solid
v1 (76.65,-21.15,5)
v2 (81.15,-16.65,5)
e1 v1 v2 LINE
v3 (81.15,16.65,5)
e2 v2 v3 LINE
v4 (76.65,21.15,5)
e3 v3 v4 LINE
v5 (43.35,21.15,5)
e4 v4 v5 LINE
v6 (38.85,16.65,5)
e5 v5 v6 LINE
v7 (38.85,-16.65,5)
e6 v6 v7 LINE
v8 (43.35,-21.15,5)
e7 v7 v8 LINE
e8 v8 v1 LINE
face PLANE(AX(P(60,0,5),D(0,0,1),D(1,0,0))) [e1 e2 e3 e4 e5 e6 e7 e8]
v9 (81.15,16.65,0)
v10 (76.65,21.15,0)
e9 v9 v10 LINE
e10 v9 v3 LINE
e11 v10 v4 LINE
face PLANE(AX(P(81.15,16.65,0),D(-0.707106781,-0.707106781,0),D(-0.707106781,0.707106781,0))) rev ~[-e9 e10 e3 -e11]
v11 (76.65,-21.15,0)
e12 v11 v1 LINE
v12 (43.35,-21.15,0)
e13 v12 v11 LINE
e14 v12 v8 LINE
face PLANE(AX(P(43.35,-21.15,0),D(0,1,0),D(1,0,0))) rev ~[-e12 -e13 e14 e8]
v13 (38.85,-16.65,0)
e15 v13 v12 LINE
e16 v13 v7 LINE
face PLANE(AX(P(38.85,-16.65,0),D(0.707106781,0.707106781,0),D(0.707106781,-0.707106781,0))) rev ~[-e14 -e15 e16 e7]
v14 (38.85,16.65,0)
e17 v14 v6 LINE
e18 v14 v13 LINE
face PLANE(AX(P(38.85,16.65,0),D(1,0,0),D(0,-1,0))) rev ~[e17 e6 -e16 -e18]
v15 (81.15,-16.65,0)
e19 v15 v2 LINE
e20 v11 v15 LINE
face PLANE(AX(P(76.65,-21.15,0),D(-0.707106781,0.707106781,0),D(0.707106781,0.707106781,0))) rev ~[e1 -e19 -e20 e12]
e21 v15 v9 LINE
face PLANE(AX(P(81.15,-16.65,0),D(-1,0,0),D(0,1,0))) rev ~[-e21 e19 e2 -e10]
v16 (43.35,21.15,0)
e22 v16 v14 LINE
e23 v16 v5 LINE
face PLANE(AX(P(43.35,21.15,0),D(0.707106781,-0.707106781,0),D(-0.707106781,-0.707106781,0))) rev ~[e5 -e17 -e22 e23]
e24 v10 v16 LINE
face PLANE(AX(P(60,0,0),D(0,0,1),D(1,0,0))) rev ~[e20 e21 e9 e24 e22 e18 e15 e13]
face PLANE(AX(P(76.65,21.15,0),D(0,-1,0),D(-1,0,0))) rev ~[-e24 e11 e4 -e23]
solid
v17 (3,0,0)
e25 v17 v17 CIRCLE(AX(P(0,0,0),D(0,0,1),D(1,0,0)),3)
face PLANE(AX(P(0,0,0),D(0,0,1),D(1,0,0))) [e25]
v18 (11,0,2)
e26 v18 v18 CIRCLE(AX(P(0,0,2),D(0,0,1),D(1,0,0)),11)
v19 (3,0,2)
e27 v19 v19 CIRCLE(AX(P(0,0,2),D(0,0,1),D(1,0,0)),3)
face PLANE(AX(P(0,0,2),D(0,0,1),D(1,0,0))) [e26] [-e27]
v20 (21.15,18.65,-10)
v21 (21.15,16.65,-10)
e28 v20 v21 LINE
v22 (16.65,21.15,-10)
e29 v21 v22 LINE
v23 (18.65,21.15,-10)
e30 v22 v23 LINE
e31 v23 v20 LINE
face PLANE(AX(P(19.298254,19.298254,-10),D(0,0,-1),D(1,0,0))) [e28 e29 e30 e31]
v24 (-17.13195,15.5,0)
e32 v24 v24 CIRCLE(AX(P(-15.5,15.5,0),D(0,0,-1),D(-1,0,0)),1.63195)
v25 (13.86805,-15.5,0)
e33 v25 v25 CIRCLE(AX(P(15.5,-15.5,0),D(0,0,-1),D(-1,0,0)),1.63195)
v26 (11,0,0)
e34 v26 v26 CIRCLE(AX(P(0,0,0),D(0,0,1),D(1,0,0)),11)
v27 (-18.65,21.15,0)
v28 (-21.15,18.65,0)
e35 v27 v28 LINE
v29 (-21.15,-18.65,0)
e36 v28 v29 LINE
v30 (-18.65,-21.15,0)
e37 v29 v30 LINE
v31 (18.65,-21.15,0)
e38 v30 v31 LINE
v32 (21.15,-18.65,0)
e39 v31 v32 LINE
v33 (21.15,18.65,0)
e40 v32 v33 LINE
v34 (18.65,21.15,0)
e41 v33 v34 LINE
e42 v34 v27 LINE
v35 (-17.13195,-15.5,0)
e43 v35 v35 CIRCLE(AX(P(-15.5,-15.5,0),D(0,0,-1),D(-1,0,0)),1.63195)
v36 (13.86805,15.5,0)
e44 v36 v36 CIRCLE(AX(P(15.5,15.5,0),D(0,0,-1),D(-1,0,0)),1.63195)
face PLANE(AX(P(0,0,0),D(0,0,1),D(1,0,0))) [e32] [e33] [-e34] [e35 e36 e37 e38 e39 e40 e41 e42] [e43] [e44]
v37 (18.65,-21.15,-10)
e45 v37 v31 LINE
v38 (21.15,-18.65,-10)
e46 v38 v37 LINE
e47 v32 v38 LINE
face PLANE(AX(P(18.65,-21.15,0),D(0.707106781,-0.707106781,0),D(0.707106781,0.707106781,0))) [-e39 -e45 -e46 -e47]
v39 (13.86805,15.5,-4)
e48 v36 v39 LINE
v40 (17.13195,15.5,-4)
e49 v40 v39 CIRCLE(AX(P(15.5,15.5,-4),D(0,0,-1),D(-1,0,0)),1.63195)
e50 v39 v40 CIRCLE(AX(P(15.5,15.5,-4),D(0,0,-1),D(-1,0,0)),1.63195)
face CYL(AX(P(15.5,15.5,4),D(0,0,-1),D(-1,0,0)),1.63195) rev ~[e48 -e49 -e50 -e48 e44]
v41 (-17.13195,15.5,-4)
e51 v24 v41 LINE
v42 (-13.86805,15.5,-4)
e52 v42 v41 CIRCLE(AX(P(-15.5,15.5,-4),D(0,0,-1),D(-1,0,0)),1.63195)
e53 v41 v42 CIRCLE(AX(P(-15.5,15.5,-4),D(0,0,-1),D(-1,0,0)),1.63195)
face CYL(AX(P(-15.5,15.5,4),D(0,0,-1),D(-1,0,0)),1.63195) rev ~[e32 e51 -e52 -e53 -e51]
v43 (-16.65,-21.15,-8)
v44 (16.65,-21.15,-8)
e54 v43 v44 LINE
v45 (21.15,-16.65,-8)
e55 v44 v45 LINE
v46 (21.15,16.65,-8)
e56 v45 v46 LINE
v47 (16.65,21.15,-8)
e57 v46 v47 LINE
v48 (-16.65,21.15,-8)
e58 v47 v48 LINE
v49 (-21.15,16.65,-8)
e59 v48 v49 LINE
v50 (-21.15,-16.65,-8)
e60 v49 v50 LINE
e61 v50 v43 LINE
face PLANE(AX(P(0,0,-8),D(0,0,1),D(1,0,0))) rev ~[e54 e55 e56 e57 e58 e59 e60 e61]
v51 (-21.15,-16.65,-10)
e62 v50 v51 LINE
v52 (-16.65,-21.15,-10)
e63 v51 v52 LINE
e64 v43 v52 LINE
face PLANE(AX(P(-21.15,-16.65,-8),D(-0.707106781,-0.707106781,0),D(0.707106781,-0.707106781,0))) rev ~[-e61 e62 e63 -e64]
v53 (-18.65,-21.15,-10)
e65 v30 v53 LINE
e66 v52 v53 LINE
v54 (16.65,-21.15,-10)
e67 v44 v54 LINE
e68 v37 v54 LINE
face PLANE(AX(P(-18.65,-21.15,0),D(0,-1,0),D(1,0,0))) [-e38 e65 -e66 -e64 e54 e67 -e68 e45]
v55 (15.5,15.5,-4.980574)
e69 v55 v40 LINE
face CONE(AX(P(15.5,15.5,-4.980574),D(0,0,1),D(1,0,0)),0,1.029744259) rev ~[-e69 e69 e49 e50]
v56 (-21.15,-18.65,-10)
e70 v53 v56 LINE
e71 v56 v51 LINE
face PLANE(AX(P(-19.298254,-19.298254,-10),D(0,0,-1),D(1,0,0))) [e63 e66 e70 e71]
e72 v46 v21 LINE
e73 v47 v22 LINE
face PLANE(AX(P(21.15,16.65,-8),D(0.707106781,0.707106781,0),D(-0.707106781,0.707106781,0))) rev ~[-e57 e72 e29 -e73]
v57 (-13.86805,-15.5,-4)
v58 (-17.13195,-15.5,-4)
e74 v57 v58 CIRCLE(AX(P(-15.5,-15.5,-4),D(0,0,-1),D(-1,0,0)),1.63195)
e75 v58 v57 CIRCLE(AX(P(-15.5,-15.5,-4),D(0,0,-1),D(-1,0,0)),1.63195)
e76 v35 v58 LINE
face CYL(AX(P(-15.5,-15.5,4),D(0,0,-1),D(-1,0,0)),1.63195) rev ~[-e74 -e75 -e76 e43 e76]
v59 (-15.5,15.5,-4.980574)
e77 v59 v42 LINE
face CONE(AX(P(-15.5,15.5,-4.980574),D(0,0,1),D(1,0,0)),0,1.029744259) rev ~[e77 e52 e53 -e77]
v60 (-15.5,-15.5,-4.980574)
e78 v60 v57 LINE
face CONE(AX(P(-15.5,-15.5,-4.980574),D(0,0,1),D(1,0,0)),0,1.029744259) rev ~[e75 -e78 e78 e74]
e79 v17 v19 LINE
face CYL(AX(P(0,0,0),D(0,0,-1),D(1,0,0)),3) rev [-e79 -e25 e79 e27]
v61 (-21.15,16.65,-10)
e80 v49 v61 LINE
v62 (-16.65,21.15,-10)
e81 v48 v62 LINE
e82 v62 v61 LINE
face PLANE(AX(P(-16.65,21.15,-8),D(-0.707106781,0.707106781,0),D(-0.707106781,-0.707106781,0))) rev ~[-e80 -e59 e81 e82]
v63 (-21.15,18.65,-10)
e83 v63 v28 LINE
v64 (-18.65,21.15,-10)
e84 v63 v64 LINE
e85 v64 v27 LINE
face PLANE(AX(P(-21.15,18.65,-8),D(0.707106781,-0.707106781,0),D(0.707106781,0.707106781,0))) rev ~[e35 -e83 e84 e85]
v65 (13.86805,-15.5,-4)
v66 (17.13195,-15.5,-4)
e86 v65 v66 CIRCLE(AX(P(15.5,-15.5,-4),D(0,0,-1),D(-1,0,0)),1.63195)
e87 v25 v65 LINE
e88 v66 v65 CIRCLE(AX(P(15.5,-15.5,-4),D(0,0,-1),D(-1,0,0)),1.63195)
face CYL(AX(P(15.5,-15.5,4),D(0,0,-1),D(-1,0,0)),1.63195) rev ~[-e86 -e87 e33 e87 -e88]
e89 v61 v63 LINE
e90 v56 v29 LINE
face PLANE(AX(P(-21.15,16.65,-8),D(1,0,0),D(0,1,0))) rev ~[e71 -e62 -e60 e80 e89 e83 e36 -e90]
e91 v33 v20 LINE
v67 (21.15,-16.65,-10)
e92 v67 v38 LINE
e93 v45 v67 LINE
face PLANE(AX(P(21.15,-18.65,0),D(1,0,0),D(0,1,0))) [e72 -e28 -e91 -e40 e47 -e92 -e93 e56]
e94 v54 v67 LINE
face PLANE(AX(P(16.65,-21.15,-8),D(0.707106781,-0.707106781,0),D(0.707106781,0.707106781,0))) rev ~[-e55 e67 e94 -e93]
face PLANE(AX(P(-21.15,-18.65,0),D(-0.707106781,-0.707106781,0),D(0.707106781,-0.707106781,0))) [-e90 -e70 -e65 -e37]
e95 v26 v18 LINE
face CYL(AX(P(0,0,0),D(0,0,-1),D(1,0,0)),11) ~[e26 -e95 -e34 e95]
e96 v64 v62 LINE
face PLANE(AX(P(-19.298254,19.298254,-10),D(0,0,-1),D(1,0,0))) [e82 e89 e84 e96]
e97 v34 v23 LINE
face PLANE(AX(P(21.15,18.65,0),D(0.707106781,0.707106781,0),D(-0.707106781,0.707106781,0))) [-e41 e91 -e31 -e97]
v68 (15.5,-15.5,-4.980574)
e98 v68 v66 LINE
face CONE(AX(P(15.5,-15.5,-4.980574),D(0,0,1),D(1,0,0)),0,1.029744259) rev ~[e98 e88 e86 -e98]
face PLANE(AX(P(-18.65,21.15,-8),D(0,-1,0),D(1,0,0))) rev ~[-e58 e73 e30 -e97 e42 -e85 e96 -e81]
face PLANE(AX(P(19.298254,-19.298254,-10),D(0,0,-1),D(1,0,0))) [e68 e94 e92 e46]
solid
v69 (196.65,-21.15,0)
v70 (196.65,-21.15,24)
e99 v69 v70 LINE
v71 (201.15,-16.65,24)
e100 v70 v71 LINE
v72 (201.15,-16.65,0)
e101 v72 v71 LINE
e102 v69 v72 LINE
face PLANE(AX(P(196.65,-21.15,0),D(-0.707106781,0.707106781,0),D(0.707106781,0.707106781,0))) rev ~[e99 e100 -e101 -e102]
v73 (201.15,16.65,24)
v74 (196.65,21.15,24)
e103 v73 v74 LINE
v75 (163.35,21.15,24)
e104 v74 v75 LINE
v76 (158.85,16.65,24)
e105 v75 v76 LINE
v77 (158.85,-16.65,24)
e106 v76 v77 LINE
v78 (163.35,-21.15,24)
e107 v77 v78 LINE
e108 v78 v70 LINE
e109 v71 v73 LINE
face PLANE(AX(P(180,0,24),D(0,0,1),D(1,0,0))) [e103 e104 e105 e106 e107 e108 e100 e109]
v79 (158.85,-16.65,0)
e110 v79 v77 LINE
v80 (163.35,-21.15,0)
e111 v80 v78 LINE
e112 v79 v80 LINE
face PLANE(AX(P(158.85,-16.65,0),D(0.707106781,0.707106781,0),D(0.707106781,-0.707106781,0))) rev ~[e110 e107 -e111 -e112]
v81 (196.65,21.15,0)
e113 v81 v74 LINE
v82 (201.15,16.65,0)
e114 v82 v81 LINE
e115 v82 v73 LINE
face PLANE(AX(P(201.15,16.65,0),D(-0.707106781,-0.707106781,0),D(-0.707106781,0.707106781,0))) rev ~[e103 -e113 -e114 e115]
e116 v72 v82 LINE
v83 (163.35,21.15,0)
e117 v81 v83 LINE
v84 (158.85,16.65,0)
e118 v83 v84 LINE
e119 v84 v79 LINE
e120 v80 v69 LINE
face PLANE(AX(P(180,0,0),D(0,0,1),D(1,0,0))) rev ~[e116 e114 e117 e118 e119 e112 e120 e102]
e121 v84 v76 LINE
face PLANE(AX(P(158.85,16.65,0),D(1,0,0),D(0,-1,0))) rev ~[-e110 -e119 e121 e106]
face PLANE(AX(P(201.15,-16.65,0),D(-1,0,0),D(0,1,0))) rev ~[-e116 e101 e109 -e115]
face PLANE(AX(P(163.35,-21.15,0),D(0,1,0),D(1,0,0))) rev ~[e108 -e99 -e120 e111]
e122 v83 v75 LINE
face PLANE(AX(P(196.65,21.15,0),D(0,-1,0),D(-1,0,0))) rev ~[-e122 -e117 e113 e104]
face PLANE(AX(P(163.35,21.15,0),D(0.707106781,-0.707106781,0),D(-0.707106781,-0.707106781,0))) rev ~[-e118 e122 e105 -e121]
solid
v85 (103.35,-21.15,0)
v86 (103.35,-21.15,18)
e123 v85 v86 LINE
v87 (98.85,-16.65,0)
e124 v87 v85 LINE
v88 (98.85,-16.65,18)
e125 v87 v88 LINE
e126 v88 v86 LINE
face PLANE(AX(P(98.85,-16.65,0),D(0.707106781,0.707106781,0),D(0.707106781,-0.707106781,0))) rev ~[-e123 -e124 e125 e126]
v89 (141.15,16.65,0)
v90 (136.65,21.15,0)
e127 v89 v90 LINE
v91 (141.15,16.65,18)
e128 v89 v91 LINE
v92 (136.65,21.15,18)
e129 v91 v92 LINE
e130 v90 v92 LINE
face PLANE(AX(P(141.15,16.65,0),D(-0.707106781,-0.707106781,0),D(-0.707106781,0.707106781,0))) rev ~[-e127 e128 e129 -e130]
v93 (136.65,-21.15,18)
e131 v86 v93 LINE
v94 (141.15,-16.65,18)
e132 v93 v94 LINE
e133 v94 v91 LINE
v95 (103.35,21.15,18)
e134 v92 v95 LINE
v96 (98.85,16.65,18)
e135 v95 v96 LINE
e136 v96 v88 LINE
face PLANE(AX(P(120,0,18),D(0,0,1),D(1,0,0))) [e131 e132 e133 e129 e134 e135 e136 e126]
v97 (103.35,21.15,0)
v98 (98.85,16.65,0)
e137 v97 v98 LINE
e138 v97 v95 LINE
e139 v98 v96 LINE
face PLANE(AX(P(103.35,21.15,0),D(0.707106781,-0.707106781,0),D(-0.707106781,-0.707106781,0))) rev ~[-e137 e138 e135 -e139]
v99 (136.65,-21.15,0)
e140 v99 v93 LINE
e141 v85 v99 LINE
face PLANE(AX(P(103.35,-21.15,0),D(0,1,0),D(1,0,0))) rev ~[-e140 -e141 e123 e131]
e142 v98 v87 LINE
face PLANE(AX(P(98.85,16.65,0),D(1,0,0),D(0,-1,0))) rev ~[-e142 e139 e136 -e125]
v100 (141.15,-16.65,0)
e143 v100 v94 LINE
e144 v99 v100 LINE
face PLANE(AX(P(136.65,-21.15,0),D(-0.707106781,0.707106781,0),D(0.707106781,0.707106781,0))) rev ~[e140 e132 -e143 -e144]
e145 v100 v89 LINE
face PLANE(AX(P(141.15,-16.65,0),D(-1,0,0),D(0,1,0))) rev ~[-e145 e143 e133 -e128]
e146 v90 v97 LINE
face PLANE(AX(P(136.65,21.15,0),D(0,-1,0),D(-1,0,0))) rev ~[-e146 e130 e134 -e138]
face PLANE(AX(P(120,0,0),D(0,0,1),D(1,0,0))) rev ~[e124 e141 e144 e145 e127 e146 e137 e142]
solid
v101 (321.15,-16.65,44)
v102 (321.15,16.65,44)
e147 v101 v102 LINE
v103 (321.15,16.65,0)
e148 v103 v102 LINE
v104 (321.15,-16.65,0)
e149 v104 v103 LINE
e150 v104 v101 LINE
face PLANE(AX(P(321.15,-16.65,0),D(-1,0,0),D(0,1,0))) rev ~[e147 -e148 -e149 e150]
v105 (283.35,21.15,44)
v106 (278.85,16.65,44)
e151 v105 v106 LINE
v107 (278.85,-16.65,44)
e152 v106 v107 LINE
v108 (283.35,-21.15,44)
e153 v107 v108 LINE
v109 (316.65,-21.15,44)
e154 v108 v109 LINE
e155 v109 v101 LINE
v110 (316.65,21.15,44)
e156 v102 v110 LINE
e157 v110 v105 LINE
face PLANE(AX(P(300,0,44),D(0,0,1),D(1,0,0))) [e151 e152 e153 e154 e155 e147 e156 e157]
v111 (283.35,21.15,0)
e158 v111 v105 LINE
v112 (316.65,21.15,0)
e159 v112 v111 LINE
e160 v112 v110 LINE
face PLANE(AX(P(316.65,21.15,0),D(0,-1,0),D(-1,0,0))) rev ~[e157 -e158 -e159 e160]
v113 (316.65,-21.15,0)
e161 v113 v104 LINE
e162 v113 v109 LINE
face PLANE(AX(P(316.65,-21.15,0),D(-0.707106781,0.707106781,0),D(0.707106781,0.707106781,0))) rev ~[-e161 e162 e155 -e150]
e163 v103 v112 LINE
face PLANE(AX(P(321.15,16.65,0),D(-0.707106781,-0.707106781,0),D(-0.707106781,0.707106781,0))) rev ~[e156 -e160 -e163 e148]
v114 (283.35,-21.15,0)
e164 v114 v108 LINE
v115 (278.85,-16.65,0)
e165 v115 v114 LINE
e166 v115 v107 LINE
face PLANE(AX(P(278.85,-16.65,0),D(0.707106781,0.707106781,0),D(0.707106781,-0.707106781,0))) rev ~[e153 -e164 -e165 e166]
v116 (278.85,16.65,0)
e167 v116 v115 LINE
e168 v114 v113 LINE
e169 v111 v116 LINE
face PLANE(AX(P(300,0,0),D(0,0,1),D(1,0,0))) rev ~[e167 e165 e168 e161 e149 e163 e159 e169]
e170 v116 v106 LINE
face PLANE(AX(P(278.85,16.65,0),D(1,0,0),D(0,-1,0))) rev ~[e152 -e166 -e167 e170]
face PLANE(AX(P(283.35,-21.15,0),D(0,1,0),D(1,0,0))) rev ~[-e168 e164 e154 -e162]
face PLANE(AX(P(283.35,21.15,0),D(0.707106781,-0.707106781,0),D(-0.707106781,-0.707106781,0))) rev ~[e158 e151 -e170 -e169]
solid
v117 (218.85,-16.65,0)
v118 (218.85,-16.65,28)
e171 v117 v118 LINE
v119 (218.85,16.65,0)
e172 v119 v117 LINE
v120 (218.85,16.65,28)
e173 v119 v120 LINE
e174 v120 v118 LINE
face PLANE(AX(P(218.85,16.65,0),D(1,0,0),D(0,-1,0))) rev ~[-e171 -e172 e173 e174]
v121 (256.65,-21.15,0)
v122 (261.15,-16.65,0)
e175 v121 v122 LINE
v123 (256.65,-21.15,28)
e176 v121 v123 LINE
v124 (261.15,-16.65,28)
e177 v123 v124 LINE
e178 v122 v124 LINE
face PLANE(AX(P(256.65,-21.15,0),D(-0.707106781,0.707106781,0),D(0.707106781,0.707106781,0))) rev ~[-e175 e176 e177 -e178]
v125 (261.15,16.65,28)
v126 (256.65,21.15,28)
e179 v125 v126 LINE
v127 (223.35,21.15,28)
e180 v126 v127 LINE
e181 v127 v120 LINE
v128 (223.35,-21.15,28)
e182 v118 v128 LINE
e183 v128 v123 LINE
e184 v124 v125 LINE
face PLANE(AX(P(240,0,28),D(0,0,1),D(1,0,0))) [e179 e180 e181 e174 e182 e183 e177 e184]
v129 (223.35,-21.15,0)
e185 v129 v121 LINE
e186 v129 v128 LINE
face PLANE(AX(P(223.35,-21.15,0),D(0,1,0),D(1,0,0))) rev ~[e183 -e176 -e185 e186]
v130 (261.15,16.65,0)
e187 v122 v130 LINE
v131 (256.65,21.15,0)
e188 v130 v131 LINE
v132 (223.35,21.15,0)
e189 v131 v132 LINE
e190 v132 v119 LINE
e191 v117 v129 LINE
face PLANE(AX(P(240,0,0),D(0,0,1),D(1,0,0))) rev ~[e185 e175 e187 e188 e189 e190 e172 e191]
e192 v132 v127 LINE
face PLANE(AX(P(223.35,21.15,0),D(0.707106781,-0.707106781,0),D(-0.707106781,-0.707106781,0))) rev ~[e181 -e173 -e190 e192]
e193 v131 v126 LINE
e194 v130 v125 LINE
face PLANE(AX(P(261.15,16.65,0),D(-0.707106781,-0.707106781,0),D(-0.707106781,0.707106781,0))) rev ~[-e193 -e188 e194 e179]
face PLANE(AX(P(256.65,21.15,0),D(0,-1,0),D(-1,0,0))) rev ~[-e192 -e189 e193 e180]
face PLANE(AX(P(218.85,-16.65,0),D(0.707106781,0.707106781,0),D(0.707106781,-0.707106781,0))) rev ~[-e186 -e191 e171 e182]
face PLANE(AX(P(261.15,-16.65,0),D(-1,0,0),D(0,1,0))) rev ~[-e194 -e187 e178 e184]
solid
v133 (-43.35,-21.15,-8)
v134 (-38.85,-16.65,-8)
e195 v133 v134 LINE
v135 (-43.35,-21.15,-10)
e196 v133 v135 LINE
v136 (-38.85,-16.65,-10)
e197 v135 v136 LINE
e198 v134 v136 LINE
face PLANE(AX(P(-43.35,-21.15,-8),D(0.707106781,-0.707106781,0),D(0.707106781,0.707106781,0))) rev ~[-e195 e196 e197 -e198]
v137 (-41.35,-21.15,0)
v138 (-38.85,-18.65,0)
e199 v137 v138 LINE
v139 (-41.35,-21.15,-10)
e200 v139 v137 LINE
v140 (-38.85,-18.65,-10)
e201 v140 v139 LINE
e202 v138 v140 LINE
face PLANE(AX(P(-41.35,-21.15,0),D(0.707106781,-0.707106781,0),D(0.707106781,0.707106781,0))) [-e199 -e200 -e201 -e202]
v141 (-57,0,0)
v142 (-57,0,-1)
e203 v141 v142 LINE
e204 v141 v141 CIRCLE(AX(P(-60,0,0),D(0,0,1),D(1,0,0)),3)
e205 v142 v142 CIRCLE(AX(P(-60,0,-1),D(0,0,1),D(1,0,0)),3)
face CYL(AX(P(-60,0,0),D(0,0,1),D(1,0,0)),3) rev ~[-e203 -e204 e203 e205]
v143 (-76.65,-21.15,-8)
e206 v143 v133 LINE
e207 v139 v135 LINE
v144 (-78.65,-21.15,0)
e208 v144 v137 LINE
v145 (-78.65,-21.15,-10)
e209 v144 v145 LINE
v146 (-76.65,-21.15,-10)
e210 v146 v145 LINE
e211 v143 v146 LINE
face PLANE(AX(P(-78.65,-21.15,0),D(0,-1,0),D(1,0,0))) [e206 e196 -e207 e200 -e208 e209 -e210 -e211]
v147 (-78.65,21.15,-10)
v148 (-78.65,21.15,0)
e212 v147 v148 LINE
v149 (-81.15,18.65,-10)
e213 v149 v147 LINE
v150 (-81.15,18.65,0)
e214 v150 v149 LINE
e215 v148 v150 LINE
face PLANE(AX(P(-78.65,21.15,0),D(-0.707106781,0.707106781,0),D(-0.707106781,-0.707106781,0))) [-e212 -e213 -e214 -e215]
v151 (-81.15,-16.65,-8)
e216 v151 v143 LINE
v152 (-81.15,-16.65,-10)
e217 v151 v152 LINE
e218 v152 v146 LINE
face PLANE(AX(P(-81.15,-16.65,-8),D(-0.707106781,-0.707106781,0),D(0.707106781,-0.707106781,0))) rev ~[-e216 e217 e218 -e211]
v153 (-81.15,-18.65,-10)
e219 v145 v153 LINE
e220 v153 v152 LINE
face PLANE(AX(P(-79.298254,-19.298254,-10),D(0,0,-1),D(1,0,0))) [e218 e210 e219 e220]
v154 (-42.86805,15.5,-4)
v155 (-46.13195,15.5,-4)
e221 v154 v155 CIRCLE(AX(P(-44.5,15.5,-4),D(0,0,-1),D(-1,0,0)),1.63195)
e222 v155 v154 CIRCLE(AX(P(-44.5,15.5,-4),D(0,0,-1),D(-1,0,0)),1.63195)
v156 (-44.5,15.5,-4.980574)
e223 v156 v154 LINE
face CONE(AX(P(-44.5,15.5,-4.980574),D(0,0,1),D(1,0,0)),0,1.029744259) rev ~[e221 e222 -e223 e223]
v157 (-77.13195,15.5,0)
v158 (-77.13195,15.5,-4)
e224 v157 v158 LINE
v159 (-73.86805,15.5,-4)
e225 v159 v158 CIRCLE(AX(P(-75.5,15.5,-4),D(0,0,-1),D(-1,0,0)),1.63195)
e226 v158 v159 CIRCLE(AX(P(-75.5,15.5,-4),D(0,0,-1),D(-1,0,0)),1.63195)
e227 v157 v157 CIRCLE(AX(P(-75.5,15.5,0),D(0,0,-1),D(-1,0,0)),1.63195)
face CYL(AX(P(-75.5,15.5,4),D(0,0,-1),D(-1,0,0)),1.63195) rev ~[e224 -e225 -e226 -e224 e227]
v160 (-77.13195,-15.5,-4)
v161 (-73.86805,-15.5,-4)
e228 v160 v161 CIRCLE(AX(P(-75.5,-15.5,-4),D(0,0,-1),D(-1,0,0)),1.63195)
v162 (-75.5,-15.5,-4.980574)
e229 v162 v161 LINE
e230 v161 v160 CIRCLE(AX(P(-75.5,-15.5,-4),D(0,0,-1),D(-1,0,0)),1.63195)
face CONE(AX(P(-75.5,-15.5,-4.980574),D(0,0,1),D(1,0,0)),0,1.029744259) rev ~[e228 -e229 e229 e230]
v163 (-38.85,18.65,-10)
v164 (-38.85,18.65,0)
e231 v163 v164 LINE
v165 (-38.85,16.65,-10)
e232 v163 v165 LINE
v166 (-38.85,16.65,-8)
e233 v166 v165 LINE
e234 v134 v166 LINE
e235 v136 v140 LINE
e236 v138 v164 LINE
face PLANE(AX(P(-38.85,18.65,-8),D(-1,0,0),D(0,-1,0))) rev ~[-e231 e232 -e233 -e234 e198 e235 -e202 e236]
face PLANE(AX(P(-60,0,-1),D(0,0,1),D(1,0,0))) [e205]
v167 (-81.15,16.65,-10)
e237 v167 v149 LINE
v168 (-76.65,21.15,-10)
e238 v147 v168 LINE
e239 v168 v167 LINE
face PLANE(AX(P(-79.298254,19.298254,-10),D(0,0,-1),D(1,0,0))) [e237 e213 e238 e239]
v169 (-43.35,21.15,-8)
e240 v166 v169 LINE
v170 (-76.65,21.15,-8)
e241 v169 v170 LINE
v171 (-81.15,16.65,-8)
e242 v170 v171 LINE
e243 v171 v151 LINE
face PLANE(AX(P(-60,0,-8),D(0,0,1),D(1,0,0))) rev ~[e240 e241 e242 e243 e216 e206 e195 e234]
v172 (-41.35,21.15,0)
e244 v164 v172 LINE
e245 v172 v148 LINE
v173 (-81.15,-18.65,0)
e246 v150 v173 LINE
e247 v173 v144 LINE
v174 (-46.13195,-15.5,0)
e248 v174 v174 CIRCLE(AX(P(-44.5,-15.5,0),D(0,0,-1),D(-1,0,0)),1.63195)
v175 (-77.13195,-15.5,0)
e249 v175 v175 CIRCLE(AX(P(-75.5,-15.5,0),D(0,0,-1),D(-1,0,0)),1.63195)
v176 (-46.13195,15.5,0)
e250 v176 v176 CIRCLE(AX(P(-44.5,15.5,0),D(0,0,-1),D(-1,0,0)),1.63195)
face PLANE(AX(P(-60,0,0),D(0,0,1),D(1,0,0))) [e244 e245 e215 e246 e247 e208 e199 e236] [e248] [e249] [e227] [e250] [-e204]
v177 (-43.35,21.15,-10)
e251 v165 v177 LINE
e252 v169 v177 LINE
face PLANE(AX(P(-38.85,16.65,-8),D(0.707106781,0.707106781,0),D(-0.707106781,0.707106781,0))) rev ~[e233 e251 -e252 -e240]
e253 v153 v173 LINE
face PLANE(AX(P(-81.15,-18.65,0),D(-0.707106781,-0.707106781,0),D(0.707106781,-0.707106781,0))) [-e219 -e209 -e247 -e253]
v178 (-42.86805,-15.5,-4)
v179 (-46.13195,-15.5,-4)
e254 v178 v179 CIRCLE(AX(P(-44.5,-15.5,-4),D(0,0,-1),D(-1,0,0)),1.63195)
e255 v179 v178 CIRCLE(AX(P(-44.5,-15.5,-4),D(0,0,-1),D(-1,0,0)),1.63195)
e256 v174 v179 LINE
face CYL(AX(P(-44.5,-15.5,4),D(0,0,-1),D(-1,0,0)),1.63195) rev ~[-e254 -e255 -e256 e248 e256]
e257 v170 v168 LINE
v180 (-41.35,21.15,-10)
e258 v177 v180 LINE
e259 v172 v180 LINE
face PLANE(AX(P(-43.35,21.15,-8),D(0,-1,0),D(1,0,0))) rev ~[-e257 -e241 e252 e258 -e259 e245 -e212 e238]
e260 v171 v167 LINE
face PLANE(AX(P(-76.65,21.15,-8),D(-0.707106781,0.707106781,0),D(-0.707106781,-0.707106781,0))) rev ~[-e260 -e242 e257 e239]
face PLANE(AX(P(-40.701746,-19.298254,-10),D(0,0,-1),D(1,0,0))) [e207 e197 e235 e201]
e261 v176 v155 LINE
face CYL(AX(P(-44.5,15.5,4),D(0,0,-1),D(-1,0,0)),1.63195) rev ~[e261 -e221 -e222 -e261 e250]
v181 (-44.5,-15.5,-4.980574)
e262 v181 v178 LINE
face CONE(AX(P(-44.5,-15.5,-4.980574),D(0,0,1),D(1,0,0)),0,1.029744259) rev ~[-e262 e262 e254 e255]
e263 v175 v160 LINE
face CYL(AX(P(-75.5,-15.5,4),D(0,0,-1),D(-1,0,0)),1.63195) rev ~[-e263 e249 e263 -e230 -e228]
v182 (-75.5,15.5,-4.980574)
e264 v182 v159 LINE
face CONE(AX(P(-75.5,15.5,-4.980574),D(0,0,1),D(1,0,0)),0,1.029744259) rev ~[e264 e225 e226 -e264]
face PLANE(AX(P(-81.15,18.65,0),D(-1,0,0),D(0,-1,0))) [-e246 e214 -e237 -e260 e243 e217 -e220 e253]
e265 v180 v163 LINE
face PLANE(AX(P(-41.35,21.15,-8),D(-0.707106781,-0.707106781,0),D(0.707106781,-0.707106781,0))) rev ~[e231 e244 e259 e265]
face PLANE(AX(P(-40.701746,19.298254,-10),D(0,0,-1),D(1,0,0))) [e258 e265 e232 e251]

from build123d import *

# Parameters (mm, degrees)
F0_R       = 3
F1_DEPTH   = 8
F0_R_2     = 11
F2_DEPTH   = 2
F3_DEPTH   = 1
F5_DEPTH   = 2
F6_D       = 3.2639
F6_DEPTH   = 4
F6_TIP     = 0.9805744872
F6_2_D     = 3.2639
F6_2_DEPTH = 4
F6_2_TIP   = 0.9805744872
F7_DEPTH   = 5
F8_DEPTH   = 18
F9_DEPTH   = 24
F10_DEPTH  = 28
F11_DEPTH  = 44


with BuildPart() as f1:
    # F0 (on Top) → F1 (new body)
    with BuildSketch(Plane.XY):
        Polygon((-81.15, 16.65), (-81.15, -16.65), (-76.65, -21.15), (-43.35, -21.15), (-38.85, -16.65), (-38.85, 16.65), (-43.35, 21.15), (-76.65, 21.15), align=None)
        with Locations((-60, 0)):
            Circle(F0_R, mode=Mode.SUBTRACT)
        Polygon((-41.35, 21.15), (-43.35, 21.15), (-38.85, 16.65), (-38.85, 18.65), align=None)
        Polygon((-81.15, 18.65), (-81.15, 16.65), (-76.65, 21.15), (-78.65, 21.15), align=None)
        Polygon((-81.15, -16.65), (-81.15, -18.65), (-78.65, -21.15), (-76.65, -21.15), align=None)
        Polygon((-38.85, -16.65), (-43.35, -21.15), (-41.35, -21.15), (-38.85, -18.65), align=None)
        with Locations((-60, 0)):
            Circle(F0_R)
    extrude(amount=-F1_DEPTH)

    # F0 (on Top) → F3 (cut)
    with BuildSketch(Plane.XY):
        with Locations((-60, 0)):
            Circle(F0_R)
    extrude(amount=-F3_DEPTH, mode=Mode.SUBTRACT)

    # F4 (on face) → F5 (join)
    with BuildSketch(Plane(origin=(0, 0, -8), x_dir=(1, 0, 0), z_dir=(0, 0, -1))):
        Polygon((-38.85, -16.65), (-43.35, -21.15), (-41.35, -21.15), (-38.85, -18.65), align=None)
        Polygon((-78.65, -21.15), (-76.65, -21.15), (-81.15, -16.65), (-81.15, -18.65), align=None)
        Polygon((-81.15, 16.65), (-76.65, 21.15), (-78.65, 21.15), (-81.15, 18.65), align=None)
        Polygon((-38.85, 16.65), (-38.85, 18.65), (-41.35, 21.15), (-43.35, 21.15), align=None)
    extrude(amount=F5_DEPTH)

    # F6
    with Locations(Plane.XY):
        with Locations((-15.5, -15.5), (15.5, -15.5), (15.5, 15.5), (-15.5, 15.5), (-44.5, -15.5), (-44.5, 15.5), (-75.5, 15.5), (-75.5, -15.5)):
            Hole(F6_D / 2, depth=F6_DEPTH)
            with Locations((0, 0, -(F6_DEPTH + F6_TIP / 2))):  # 118° drill point
                Cone(0, F6_D / 2, F6_TIP, mode=Mode.SUBTRACT)


with BuildPart() as f1b:
    # F0 (on Top) → F1, piece 2 (new body)
    with BuildSketch(Plane.XY):
        Polygon((-16.65, -21.15), (16.65, -21.15), (21.15, -16.65), (21.15, 16.65), (16.65, 21.15), (-16.65, 21.15), (-21.15, 16.65), (-21.15, -16.65), align=None)
        Circle(F0_R_2, mode=Mode.SUBTRACT)
        Circle(F0_R_2)
        Circle(F0_R, mode=Mode.SUBTRACT)
        Polygon((-18.65, -21.15), (-16.65, -21.15), (-21.15, -16.65), (-21.15, -18.65), align=None)
        Polygon((-21.15, 18.65), (-21.15, 16.65), (-16.65, 21.15), (-18.65, 21.15), align=None)
        Polygon((16.65, 21.15), (21.15, 16.65), (21.15, 18.65), (18.65, 21.15), align=None)
        Polygon((16.65, -21.15), (18.65, -21.15), (21.15, -18.65), (21.15, -16.65), align=None)
        Circle(F0_R)
    extrude(amount=-F1_DEPTH)

    # F0 (on Top) → F2 (join)
    with BuildSketch(Plane.XY):
        Circle(F0_R_2)
        Circle(F0_R, mode=Mode.SUBTRACT)
    extrude(amount=F2_DEPTH)

    # F4 (on face) → F5, piece 2 (join)
    with BuildSketch(Plane(origin=(0, 0, -8), x_dir=(1, 0, 0), z_dir=(0, 0, -1))):
        Polygon((-18.65, -21.15), (-16.65, -21.15), (-21.15, -16.65), (-21.15, -18.65), align=None)
        Polygon((21.15, -16.65), (16.65, -21.15), (18.65, -21.15), (21.15, -18.65), align=None)
        Polygon((16.65, 21.15), (21.15, 16.65), (21.15, 18.65), (18.65, 21.15), align=None)
        Polygon((-21.15, 18.65), (-21.15, 16.65), (-16.65, 21.15), (-18.65, 21.15), align=None)
    extrude(amount=F5_DEPTH)

    # F6#2
    with Locations(Plane.XY):
        with Locations((-15.5, -15.5), (15.5, -15.5), (15.5, 15.5), (-15.5, 15.5), (-44.5, -15.5), (-44.5, 15.5), (-75.5, 15.5), (-75.5, -15.5)):
            Hole(F6_2_D / 2, depth=F6_2_DEPTH)
            with Locations((0, 0, -(F6_2_DEPTH + F6_2_TIP / 2))):  # 118° drill point
                Cone(0, F6_2_D / 2, F6_2_TIP, mode=Mode.SUBTRACT)


with BuildPart() as f7:
    # F0 (on Top) → F7 (new body)
    with BuildSketch(Plane.XY):
        Polygon((43.35, -21.15), (76.65, -21.15), (81.15, -16.65), (81.15, 16.65), (76.65, 21.15), (43.35, 21.15), (38.85, 16.65), (38.85, -16.65), align=None)
    extrude(amount=F7_DEPTH)


with BuildPart() as f8:
    # F0 (on Top) → F8 (new body)
    with BuildSketch(Plane.XY):
        Polygon((103.35, -21.15), (136.65, -21.15), (141.15, -16.65), (141.15, 16.65), (136.65, 21.15), (103.35, 21.15), (98.85, 16.65), (98.85, -16.65), align=None)
    extrude(amount=F8_DEPTH)


with BuildPart() as f9:
    # F0 (on Top) → F9 (new body)
    with BuildSketch(Plane.XY):
        Polygon((163.35, -21.15), (196.65, -21.15), (201.15, -16.65), (201.15, 16.65), (196.65, 21.15), (163.35, 21.15), (158.85, 16.65), (158.85, -16.65), align=None)
    extrude(amount=F9_DEPTH)


with BuildPart() as f10:
    # F0 (on Top) → F10 (new body)
    with BuildSketch(Plane.XY):
        Polygon((223.35, -21.15), (256.65, -21.15), (261.15, -16.65), (261.15, 16.65), (256.65, 21.15), (223.35, 21.15), (218.85, 16.65), (218.85, -16.65), align=None)
    extrude(amount=F10_DEPTH)


with BuildPart() as f11:
    # F0 (on Top) → F11 (new body)
    with BuildSketch(Plane.XY):
        Polygon((283.35, -21.15), (316.65, -21.15), (321.15, -16.65), (321.15, 16.65), (316.65, 21.15), (283.35, 21.15), (278.85, 16.65), (278.85, -16.65), align=None)
    extrude(amount=F11_DEPTH)


solid = Compound([f1.part, f1b.part, f7.part, f8.part, f9.part, f10.part, f11.part])
